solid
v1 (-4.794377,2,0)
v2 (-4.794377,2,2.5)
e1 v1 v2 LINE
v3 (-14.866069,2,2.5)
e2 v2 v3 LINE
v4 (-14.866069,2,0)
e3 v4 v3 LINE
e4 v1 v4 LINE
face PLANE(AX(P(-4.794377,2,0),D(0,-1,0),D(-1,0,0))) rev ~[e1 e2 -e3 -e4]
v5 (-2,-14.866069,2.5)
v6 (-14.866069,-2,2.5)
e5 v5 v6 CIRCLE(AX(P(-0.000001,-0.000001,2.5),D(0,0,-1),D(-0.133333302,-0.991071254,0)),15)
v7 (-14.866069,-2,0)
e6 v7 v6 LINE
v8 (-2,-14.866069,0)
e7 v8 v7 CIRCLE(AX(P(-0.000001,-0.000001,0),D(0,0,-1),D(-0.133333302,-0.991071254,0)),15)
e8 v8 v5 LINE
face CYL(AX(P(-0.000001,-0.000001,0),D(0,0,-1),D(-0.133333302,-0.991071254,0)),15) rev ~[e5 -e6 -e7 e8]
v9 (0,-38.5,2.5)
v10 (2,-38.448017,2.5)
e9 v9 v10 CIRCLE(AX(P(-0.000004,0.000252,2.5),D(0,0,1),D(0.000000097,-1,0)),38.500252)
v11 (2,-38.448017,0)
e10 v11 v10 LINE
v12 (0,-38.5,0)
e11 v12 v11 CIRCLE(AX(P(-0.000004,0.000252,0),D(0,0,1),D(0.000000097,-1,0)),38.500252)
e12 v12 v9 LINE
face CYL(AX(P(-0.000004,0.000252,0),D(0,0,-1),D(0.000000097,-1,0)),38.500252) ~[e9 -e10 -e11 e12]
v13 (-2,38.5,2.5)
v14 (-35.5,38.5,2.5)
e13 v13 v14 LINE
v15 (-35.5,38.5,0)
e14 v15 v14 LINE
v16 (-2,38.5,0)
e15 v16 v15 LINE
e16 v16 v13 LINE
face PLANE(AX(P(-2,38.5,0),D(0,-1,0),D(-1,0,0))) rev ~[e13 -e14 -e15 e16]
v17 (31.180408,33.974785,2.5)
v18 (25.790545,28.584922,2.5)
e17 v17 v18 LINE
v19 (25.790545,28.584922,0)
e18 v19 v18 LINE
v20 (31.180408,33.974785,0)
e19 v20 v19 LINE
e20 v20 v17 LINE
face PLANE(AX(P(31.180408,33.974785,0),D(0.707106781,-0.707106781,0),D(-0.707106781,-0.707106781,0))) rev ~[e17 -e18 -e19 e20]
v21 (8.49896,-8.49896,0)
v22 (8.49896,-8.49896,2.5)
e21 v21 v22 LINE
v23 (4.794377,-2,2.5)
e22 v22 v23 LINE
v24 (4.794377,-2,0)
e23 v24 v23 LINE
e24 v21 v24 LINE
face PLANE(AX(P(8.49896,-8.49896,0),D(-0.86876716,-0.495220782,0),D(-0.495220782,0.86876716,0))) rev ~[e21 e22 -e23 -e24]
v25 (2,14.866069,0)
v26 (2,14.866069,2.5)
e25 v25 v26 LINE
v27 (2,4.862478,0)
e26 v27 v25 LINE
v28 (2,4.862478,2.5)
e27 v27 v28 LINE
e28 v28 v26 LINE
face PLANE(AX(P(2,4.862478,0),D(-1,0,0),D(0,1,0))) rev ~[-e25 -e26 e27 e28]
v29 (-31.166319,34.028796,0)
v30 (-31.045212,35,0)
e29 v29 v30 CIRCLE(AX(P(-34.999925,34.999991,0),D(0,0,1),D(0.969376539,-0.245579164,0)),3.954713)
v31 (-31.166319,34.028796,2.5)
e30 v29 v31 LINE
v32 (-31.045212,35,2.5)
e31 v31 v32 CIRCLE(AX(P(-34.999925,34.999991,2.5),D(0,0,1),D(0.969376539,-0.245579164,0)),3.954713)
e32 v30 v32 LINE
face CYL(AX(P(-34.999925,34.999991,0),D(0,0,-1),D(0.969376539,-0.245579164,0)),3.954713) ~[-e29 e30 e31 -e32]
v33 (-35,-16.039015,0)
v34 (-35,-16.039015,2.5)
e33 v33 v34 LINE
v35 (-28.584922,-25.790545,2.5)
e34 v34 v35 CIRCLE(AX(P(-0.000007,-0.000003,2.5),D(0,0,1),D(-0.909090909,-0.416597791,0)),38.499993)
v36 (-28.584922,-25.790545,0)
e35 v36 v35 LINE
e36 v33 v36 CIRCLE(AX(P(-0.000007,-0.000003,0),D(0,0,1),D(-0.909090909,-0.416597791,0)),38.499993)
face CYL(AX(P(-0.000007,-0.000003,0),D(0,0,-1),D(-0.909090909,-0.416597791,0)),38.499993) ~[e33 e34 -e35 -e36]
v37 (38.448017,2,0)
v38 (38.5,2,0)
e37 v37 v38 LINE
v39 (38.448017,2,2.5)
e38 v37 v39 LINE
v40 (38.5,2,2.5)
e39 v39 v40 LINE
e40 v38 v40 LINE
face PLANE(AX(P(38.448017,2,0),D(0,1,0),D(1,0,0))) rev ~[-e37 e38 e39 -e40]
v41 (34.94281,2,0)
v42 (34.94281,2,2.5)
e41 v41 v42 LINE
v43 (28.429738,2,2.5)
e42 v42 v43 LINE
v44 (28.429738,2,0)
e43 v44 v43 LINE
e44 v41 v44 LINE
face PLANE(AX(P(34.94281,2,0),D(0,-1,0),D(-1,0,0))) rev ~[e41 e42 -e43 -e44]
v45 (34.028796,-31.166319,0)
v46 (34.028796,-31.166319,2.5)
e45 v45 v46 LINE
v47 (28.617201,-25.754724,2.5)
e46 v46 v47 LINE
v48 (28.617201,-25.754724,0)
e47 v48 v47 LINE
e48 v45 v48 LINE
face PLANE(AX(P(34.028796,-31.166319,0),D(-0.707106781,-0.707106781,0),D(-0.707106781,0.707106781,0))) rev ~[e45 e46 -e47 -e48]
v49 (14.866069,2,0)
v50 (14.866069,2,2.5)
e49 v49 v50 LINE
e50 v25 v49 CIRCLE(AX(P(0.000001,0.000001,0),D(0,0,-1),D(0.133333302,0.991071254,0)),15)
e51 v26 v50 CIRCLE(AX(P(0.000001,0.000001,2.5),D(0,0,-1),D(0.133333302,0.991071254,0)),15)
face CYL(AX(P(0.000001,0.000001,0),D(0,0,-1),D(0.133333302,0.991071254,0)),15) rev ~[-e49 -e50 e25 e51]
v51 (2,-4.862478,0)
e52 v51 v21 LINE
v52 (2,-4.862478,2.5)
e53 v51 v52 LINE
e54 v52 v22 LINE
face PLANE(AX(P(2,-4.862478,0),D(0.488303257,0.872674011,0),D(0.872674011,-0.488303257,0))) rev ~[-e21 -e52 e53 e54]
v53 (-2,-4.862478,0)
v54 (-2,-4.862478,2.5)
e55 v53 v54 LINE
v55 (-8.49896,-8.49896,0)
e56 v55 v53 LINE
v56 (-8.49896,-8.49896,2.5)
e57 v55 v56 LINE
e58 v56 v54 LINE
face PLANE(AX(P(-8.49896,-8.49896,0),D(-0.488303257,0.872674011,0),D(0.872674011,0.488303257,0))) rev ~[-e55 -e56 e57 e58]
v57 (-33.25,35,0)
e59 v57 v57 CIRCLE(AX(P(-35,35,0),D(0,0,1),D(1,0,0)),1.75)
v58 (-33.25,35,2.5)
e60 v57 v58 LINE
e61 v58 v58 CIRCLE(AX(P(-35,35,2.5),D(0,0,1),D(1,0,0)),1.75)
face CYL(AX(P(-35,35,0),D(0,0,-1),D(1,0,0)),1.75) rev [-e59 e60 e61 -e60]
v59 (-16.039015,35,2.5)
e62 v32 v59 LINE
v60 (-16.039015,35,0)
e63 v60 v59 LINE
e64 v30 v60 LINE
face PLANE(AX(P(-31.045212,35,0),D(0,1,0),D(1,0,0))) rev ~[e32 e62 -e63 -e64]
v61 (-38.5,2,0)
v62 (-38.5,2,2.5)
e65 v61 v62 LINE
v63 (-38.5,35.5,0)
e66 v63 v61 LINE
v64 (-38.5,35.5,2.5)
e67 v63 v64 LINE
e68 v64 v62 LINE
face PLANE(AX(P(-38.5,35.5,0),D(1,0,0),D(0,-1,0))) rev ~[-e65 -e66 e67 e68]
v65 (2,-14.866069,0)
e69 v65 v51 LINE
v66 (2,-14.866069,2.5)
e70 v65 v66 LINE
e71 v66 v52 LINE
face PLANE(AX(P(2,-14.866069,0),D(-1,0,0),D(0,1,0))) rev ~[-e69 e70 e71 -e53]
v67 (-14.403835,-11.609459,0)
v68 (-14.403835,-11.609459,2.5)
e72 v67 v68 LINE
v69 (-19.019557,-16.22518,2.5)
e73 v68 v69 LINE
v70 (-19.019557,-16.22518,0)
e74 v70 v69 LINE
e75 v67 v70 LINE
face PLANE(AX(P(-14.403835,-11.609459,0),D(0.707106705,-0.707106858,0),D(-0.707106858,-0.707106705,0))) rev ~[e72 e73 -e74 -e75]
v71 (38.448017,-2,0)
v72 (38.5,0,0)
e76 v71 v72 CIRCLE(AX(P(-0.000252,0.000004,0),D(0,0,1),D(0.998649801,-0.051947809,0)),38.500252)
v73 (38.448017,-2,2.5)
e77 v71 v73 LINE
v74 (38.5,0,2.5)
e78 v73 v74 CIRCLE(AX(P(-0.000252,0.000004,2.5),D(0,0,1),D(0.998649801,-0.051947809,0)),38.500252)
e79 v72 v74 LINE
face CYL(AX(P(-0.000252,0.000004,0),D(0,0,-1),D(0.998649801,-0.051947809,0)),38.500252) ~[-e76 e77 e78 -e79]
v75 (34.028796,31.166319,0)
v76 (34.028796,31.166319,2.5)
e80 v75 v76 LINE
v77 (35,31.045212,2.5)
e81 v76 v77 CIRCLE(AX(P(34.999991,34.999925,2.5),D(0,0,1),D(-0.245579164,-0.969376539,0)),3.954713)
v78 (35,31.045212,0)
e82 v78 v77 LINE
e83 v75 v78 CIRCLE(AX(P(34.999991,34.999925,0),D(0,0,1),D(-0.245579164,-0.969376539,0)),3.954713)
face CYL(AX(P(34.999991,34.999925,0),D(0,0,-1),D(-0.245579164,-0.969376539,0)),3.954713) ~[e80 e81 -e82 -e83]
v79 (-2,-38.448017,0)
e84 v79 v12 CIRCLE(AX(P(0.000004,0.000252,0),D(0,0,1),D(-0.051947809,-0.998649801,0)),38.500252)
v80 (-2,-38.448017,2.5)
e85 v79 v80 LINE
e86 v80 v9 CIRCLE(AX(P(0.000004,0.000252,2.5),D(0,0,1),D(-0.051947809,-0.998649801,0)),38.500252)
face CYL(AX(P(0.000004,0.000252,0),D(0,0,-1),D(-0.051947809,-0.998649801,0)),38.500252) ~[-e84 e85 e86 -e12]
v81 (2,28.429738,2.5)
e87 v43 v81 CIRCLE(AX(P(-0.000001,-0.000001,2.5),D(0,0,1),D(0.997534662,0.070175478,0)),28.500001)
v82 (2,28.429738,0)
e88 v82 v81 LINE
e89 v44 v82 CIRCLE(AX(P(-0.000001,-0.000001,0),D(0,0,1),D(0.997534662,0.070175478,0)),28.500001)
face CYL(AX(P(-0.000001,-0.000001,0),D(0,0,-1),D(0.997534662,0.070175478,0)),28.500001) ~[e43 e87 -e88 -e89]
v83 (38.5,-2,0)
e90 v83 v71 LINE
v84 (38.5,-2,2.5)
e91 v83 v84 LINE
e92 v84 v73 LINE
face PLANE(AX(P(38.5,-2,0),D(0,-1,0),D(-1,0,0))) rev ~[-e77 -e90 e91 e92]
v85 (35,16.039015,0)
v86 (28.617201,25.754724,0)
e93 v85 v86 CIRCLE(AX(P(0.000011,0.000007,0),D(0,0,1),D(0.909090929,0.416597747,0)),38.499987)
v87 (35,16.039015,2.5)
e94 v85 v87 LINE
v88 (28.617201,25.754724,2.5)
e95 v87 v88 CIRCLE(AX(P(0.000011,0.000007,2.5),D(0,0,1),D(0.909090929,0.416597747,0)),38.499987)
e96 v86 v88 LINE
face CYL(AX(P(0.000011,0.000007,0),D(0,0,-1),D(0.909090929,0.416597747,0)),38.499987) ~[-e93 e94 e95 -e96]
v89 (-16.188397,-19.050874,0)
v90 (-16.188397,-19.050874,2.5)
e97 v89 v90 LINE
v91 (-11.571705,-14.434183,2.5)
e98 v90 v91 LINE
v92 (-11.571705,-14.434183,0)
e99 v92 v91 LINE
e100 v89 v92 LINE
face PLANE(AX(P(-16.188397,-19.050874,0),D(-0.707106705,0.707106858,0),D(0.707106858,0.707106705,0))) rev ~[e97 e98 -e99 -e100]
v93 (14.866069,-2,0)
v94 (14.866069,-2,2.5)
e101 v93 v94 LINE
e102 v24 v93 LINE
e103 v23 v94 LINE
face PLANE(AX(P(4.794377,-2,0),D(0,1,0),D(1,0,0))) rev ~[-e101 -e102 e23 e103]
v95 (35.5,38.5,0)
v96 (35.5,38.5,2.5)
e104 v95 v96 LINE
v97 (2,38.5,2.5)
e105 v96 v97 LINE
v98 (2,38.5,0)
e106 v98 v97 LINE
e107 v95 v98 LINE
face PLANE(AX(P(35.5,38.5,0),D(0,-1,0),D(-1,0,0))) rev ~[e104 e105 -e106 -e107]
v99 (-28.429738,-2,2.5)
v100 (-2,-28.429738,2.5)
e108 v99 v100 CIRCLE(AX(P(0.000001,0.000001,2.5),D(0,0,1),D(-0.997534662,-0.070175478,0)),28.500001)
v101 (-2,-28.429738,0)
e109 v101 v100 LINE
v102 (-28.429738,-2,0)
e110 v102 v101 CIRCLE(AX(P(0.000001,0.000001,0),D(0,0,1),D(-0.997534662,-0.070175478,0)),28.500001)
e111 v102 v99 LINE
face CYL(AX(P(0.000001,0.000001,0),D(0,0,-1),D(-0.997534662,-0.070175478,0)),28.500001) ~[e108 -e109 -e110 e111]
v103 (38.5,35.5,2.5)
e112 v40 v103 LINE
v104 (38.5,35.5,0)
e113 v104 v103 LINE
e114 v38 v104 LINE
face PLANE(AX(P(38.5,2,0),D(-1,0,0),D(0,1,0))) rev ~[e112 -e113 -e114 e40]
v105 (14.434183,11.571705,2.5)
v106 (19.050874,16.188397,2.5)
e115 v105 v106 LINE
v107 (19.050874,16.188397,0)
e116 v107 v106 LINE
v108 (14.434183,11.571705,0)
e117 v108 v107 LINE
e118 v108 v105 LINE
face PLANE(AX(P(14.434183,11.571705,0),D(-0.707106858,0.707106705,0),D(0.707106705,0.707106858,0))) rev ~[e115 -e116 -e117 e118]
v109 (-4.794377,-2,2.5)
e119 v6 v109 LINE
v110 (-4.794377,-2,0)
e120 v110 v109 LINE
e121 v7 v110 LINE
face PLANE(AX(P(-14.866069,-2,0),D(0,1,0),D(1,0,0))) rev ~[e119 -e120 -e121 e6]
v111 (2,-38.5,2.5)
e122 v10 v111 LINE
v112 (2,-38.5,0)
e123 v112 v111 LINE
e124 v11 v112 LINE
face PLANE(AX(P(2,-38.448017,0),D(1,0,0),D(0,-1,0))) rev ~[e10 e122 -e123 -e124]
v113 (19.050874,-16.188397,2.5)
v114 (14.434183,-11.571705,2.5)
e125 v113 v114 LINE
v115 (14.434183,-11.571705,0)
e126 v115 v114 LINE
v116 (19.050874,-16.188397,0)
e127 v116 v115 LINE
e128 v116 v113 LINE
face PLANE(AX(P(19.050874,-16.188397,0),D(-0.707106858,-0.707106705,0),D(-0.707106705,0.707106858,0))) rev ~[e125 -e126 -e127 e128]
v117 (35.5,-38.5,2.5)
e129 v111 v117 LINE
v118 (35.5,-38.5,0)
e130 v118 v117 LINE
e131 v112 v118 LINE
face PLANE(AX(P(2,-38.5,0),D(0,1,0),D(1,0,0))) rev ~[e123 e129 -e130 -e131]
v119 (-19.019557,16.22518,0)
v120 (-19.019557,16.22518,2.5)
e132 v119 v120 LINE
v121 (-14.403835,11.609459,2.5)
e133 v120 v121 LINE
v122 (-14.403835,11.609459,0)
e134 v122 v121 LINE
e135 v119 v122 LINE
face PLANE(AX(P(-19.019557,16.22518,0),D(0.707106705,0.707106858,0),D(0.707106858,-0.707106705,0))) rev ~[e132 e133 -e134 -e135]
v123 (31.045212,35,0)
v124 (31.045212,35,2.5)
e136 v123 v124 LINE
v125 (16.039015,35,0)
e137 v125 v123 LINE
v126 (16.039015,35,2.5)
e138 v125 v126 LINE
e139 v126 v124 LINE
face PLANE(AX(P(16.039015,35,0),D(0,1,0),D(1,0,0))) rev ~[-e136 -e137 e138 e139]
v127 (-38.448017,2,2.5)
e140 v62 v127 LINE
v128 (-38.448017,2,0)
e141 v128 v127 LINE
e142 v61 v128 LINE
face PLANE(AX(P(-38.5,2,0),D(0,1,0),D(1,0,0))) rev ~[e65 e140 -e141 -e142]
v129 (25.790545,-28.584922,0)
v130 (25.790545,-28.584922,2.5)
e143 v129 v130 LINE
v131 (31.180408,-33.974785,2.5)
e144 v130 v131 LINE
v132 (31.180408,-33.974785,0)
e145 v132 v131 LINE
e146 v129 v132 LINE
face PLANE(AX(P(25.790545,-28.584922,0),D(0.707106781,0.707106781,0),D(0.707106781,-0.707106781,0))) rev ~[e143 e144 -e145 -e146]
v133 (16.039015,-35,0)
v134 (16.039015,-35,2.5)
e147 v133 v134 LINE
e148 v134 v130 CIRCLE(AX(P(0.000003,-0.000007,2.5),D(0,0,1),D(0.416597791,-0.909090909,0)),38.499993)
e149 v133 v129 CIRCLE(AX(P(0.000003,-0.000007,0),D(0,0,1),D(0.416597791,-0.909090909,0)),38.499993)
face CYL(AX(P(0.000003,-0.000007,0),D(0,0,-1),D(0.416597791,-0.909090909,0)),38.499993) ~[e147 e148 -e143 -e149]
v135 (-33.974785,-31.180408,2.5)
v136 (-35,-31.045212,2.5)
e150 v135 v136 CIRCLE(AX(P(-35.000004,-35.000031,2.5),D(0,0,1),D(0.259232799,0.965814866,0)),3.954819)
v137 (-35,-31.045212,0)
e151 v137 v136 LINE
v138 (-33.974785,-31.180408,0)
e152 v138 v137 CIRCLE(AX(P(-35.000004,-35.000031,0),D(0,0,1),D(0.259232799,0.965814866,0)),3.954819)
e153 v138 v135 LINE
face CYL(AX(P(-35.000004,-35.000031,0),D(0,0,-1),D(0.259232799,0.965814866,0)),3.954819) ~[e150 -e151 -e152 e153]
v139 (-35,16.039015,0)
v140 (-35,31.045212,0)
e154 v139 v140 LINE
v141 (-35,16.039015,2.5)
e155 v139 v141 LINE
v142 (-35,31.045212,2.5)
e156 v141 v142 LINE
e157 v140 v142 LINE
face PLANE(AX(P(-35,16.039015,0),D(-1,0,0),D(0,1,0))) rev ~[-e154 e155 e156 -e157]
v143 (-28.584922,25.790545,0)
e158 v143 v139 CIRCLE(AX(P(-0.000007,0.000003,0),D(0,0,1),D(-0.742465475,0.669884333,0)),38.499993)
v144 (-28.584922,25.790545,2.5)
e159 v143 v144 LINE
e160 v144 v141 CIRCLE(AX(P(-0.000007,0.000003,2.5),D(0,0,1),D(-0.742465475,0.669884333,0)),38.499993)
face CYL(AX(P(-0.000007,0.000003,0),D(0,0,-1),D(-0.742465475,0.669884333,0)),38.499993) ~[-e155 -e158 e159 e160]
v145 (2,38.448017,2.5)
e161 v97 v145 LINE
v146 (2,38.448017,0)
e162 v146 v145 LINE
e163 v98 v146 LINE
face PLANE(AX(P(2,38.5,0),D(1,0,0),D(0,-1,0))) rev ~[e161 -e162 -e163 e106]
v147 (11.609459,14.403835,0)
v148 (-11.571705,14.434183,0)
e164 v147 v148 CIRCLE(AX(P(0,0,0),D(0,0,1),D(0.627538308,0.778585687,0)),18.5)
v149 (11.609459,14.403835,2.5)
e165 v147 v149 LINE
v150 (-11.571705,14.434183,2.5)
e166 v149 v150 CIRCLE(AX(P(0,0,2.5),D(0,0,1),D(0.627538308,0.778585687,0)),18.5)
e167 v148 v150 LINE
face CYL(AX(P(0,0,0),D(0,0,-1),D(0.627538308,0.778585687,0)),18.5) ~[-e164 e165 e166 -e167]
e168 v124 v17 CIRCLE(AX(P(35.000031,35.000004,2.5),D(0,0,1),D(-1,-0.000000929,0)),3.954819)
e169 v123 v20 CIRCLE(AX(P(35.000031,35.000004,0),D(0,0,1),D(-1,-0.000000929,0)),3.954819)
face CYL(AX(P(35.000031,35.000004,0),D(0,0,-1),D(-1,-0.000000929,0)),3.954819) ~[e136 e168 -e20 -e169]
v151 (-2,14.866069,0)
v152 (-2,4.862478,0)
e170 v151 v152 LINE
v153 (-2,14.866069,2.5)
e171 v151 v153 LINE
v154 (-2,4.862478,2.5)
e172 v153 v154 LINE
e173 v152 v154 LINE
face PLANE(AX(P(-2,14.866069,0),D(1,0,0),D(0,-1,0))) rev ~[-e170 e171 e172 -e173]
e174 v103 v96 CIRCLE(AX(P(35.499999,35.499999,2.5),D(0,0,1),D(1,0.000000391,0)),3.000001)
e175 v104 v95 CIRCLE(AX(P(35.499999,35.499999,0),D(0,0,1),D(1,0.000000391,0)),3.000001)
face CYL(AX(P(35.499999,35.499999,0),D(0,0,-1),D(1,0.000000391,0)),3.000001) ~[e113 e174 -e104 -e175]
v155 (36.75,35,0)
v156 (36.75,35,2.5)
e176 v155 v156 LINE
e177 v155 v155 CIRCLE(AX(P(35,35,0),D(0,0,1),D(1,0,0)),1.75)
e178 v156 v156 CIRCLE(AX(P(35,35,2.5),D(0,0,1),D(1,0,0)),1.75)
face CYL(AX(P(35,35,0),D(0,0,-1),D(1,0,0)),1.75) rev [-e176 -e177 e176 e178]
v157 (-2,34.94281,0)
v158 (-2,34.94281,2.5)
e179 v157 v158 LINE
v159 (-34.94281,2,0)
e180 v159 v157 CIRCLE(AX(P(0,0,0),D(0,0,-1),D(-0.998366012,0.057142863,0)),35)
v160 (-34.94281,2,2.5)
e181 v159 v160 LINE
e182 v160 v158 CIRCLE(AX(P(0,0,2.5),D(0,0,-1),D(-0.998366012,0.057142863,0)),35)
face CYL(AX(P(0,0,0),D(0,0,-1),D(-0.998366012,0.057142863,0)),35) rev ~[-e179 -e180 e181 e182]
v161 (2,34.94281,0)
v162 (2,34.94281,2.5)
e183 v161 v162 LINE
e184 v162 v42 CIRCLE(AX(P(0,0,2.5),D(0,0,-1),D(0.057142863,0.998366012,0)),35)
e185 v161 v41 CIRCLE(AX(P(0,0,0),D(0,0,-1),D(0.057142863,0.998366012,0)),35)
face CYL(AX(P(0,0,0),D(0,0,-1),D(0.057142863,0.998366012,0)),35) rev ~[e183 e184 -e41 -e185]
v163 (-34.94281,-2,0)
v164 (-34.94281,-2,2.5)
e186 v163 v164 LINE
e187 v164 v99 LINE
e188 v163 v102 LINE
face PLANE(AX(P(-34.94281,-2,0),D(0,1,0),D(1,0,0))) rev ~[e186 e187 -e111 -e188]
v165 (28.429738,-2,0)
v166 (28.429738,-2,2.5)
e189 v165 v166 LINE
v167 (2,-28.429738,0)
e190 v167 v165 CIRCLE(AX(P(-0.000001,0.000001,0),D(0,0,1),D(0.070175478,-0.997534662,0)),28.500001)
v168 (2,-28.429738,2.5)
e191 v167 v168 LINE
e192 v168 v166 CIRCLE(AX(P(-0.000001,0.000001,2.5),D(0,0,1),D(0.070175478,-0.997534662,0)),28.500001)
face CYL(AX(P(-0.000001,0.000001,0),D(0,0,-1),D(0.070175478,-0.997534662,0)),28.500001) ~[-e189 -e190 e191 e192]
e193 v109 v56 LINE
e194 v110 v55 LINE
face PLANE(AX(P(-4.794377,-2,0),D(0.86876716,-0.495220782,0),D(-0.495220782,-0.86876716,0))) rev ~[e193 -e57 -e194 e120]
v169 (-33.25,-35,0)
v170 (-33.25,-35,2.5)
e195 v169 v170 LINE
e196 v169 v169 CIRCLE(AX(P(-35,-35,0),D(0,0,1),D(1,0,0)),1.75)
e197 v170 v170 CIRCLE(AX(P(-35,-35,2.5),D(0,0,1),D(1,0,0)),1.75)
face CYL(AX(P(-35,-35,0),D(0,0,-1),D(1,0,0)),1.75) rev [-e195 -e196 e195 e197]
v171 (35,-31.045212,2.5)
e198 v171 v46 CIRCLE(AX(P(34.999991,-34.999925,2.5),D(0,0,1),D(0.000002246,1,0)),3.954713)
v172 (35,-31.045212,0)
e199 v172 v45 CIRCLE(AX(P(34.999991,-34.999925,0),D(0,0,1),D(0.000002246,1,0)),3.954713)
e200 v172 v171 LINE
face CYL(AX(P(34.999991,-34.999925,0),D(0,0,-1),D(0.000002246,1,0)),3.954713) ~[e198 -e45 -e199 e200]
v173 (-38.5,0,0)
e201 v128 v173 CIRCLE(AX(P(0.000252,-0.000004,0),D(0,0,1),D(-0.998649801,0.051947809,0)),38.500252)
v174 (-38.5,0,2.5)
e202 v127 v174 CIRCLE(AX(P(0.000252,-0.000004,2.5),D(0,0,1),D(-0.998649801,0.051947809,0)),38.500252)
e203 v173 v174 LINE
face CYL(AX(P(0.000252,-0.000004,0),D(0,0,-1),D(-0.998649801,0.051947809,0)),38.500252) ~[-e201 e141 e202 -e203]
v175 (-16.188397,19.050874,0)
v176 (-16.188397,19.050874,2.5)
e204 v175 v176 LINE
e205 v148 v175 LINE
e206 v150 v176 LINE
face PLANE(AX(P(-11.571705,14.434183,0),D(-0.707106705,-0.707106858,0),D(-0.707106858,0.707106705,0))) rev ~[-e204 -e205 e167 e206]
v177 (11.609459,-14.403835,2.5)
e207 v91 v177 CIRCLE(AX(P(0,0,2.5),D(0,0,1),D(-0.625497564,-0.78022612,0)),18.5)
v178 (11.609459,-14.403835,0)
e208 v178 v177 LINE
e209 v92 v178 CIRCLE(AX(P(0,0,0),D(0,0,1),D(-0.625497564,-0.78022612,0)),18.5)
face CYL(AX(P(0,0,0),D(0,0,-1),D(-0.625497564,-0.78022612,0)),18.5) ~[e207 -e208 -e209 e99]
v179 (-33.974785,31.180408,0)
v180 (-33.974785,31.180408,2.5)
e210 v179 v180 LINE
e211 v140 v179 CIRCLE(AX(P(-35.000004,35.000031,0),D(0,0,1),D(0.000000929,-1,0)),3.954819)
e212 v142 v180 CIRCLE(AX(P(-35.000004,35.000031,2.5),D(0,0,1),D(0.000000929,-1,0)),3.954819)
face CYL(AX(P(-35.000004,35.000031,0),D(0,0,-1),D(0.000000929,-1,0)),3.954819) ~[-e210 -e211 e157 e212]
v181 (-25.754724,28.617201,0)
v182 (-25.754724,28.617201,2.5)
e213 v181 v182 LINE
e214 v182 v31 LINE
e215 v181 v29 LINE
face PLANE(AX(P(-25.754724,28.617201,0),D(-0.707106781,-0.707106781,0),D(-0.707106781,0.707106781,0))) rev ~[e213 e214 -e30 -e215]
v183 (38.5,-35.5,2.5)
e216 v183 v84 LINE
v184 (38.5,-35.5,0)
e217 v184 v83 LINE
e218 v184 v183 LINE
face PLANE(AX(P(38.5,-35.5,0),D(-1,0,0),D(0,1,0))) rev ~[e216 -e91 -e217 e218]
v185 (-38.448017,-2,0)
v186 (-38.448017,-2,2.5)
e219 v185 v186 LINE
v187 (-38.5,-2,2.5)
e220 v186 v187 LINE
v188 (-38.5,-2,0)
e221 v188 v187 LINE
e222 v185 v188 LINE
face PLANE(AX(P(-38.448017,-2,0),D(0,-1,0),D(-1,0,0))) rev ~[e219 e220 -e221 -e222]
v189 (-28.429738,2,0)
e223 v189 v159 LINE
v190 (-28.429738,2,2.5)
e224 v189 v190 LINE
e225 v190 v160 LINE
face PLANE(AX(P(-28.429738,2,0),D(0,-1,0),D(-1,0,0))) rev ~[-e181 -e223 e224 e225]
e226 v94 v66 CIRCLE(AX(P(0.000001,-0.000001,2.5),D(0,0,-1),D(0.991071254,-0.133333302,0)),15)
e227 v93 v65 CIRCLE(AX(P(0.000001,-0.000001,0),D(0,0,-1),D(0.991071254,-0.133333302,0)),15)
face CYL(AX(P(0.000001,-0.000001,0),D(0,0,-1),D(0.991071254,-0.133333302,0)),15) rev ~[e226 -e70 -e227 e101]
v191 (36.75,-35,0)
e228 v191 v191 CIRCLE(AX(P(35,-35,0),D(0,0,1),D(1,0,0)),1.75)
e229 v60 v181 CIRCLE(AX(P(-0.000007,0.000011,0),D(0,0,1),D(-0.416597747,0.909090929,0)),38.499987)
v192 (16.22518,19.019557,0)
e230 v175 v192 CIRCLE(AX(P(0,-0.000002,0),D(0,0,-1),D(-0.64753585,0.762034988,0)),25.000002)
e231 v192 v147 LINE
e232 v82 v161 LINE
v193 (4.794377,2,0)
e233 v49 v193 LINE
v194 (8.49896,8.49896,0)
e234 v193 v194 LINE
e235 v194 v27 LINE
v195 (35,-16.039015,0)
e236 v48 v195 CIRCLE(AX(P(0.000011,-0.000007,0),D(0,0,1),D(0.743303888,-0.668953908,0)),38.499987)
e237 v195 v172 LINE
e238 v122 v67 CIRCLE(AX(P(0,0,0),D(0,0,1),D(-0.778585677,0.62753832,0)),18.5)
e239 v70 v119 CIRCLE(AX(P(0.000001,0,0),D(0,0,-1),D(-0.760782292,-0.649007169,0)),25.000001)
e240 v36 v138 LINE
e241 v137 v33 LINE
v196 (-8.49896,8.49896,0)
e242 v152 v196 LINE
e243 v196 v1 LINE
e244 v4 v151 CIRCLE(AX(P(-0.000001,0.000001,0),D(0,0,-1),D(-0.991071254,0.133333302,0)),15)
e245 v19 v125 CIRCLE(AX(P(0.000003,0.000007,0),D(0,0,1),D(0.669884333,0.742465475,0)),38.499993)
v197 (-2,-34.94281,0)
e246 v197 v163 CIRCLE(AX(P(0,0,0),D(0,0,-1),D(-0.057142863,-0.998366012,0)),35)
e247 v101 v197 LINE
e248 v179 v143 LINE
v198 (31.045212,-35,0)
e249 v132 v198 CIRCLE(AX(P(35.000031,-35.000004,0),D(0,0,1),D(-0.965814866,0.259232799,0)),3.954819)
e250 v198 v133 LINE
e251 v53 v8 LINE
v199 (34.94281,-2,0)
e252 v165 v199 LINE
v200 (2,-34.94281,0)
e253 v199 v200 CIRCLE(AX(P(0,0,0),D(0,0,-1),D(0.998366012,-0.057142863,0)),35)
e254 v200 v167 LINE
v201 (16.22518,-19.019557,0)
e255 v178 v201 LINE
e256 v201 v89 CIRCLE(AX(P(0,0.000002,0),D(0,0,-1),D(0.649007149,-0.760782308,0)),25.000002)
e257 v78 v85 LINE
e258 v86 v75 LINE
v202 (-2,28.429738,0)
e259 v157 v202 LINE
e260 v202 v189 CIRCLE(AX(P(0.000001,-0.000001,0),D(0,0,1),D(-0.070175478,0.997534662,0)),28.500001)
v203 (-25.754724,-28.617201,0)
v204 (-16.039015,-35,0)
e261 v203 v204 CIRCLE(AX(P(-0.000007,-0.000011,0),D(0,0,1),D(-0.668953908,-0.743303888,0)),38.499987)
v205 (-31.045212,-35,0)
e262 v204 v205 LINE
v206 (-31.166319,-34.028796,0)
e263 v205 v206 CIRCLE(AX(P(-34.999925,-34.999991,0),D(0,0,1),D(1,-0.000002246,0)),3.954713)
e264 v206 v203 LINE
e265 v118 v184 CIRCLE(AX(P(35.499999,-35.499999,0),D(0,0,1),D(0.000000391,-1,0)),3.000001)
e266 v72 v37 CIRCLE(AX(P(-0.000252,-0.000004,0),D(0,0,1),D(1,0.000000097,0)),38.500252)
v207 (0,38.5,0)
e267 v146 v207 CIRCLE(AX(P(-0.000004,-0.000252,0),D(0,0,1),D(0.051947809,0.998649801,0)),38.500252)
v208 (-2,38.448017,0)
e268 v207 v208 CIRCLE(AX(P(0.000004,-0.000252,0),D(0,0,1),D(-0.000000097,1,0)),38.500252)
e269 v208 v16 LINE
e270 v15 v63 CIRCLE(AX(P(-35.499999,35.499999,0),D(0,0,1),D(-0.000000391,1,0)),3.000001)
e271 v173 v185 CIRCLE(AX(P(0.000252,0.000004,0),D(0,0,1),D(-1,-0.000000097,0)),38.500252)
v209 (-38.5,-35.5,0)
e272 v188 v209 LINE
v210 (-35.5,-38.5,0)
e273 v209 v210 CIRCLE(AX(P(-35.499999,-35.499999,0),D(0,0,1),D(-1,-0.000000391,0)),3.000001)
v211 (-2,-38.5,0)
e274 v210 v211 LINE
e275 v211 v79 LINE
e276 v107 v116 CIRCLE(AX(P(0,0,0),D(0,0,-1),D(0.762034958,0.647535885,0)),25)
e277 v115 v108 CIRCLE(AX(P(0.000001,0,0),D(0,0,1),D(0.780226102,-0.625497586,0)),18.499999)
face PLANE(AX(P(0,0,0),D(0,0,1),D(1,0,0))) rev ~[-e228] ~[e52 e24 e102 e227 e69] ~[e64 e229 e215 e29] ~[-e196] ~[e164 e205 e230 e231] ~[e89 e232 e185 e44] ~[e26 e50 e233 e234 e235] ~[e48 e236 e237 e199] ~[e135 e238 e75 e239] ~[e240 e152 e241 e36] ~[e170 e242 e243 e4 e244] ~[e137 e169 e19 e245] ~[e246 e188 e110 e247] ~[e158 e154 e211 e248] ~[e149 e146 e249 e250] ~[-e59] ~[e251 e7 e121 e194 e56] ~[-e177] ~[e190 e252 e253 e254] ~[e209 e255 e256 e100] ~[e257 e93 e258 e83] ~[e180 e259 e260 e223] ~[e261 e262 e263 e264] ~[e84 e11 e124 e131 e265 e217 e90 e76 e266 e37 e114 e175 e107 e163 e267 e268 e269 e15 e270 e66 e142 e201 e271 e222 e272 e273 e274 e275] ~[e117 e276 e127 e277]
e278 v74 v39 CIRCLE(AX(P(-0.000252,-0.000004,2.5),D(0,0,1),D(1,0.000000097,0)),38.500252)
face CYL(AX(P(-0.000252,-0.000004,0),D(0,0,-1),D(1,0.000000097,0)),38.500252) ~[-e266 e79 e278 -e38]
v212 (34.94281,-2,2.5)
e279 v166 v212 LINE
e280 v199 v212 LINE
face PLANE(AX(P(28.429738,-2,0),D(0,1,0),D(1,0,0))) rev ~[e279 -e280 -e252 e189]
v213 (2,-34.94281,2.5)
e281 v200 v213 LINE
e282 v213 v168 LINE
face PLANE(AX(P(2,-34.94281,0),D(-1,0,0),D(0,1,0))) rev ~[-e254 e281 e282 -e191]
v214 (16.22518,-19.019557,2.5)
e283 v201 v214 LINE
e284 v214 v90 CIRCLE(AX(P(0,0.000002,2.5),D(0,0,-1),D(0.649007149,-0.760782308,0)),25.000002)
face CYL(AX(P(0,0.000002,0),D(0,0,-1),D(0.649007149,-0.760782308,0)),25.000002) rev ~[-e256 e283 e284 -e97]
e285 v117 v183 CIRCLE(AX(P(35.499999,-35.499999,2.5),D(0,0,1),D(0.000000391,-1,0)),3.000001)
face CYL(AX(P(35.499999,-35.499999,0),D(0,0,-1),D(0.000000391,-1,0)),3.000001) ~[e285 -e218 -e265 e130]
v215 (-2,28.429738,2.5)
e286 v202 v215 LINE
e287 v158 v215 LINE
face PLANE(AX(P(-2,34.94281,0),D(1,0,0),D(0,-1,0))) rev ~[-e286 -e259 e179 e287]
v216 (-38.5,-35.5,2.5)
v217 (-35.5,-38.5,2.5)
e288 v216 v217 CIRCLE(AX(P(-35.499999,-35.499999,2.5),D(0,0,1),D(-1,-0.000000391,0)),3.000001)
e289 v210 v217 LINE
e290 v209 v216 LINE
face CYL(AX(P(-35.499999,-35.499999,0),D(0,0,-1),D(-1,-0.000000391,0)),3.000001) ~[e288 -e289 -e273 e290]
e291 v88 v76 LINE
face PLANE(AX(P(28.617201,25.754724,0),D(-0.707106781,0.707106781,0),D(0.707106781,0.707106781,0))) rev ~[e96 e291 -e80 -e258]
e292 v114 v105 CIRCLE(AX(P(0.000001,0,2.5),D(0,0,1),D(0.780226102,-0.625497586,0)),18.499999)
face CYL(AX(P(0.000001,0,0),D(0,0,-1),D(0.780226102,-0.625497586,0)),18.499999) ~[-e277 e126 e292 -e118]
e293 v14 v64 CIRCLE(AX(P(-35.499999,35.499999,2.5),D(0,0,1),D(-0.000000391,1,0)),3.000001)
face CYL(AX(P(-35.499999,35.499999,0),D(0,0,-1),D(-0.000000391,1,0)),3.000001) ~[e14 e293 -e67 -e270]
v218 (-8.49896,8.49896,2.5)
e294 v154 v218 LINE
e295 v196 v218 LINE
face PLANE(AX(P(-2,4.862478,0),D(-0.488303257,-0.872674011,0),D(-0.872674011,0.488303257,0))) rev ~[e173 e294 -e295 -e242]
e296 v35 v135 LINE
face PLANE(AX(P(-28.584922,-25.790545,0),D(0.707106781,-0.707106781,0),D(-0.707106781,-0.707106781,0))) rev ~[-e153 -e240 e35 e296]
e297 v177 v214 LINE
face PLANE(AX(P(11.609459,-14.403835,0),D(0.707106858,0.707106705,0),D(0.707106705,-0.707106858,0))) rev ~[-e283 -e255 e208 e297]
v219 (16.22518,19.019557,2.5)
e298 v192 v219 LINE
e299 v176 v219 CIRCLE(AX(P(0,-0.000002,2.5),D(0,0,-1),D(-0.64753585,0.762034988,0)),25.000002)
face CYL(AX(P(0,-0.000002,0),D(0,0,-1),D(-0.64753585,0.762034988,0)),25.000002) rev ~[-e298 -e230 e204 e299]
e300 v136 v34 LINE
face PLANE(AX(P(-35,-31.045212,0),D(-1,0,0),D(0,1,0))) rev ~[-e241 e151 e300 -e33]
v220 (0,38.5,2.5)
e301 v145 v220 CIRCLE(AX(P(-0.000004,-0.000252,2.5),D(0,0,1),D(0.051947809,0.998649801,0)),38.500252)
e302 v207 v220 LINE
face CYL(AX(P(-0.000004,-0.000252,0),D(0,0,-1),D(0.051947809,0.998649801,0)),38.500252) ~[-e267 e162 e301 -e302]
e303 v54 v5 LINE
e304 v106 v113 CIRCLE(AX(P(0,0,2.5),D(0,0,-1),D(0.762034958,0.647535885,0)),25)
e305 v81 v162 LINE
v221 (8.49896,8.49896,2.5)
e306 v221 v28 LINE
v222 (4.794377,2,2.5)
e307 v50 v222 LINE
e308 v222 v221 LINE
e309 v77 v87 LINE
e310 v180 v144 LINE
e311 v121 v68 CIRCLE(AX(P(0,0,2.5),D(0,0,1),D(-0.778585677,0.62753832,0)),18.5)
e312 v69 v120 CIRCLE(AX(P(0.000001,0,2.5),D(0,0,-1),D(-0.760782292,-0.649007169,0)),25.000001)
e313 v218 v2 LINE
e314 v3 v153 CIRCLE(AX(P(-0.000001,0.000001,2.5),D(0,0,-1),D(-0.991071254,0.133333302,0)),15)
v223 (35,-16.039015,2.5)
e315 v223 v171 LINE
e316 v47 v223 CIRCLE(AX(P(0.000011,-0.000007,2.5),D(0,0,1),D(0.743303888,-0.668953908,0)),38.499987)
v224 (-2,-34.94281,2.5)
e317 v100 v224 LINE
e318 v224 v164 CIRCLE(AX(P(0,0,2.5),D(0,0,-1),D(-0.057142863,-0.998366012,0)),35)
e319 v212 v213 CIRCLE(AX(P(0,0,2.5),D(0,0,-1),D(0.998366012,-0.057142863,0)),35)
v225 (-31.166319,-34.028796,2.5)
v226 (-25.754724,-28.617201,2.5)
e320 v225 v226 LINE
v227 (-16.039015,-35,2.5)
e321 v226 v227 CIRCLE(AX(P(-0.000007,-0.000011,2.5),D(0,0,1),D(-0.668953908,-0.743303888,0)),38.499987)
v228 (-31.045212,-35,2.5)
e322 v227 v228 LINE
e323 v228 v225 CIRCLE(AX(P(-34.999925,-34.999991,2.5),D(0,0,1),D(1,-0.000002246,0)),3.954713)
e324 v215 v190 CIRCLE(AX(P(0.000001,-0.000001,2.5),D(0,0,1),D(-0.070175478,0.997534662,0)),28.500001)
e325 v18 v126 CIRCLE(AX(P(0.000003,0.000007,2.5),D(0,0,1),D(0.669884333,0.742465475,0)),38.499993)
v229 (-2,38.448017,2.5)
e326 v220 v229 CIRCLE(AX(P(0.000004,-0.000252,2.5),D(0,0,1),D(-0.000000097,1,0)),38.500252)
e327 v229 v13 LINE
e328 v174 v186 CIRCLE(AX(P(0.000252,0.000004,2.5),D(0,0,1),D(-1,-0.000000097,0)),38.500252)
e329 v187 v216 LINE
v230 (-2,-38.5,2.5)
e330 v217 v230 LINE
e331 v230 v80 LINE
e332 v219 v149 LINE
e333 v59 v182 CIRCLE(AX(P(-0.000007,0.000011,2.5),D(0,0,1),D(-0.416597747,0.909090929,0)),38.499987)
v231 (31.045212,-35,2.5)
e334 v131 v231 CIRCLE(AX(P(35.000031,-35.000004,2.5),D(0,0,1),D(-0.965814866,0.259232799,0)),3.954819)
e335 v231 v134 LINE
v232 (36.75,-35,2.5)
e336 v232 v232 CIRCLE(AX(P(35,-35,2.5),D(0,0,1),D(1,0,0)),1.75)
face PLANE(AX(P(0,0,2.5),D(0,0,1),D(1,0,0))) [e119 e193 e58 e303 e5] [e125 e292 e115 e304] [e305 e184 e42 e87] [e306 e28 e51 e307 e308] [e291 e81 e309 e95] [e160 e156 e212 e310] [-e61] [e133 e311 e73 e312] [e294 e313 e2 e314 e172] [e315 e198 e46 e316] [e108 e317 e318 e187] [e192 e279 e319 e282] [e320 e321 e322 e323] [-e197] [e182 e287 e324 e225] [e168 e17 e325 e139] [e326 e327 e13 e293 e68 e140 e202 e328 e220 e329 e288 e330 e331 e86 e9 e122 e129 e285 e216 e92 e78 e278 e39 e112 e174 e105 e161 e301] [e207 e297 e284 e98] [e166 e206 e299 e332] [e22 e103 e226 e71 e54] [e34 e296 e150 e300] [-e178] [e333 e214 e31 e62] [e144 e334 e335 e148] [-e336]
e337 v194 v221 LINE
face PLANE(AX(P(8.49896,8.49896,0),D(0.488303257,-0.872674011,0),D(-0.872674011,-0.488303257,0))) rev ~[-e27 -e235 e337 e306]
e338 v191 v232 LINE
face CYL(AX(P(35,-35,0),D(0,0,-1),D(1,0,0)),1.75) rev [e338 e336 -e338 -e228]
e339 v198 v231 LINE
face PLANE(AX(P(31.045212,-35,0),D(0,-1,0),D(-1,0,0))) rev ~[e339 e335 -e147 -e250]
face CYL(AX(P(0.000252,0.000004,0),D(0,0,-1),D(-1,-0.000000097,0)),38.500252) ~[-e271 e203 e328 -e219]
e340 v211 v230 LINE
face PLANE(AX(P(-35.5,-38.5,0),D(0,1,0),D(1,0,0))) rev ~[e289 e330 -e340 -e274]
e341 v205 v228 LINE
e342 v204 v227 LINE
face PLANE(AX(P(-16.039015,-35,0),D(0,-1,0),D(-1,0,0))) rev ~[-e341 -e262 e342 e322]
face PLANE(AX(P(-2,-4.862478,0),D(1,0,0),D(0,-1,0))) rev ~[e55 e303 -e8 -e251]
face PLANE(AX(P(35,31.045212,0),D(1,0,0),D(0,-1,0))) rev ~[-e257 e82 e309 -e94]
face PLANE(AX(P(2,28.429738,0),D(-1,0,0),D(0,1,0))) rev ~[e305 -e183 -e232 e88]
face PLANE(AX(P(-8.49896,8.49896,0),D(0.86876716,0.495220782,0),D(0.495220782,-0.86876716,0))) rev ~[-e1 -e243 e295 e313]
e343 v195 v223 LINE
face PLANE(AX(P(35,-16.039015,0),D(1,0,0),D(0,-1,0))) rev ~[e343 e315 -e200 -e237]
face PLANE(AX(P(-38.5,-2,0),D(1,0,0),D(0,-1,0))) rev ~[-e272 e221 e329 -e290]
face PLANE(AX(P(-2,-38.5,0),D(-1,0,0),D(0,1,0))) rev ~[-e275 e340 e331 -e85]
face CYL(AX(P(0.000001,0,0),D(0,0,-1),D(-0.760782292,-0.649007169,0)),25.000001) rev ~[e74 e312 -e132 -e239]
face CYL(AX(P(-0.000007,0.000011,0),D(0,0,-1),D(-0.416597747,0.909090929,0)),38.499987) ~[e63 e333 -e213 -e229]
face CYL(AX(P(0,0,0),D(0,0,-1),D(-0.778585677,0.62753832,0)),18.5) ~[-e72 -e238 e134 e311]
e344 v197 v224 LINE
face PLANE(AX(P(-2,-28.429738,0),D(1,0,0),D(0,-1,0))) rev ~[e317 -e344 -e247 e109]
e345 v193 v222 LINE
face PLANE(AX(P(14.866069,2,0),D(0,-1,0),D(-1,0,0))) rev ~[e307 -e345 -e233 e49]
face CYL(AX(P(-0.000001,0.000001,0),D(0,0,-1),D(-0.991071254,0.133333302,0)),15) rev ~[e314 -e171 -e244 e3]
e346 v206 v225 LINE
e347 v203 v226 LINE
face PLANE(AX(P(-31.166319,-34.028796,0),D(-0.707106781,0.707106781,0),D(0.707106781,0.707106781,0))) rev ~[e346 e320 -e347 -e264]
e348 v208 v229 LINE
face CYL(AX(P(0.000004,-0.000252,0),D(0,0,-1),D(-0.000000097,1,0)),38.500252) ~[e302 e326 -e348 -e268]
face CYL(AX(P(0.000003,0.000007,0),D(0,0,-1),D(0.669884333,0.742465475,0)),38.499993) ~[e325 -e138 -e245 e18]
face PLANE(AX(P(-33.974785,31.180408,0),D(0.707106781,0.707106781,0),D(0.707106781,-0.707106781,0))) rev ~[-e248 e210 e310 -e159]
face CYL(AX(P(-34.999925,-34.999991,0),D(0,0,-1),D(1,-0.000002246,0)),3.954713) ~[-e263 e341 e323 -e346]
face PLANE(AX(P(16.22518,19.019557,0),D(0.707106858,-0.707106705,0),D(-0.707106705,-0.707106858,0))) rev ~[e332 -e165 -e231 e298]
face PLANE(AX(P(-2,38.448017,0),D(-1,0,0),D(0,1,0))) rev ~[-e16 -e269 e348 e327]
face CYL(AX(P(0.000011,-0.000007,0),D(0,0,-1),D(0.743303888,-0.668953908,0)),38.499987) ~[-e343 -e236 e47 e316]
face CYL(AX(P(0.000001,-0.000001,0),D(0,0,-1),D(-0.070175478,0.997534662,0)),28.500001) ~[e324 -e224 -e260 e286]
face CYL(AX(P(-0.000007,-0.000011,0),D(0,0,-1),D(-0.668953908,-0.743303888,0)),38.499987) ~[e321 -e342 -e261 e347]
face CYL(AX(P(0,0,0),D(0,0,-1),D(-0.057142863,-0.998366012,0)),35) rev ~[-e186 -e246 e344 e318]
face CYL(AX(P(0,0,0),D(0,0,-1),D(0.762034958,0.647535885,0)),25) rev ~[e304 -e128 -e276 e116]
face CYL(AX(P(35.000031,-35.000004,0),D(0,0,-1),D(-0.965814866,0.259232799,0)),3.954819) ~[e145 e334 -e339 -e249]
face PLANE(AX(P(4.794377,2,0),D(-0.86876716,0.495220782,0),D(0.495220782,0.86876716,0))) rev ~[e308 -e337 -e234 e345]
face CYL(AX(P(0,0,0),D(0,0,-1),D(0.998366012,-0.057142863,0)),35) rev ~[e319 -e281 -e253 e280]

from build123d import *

# Parameters (mm, degrees)
F0_R     = 1.75
F1_DEPTH = 2.5


with BuildPart() as f1:
    # F0 (on Top) → F1 (new body)
    with BuildSketch(Plane.XY):
        with BuildLine():
            ThreePointArc((-38.5, -35.5), (-37.62132, -37.62132), (-35.5, -38.5))
            Line((-35.5, -38.5), (-2, -38.5))
            Line((-2, -38.5), (-2, -38.448017))
            ThreePointArc((-2, -38.448017), (-1.000338, -38.487002), (0, -38.5))
            ThreePointArc((0, -38.5), (1.000338, -38.487002), (2, -38.448017))
            Line((2, -38.448017), (2, -38.5))
            Line((2, -38.5), (35.5, -38.5))
            ThreePointArc((35.5, -38.5), (37.62132, -37.62132), (38.5, -35.5))
            Line((38.5, -35.5), (38.5, -2))
            Line((38.5, -2), (38.448017, -2))
            ThreePointArc((38.448017, -2), (38.487002, -1.000338), (38.5, 0))
            ThreePointArc((38.5, 0), (38.487002, 1.000338), (38.448017, 2))
            Line((38.448017, 2), (38.5, 2))
            Line((38.5, 2), (38.5, 35.5))
            ThreePointArc((38.5, 35.5), (37.62132, 37.62132), (35.5, 38.5))
            Line((35.5, 38.5), (2, 38.5))
            Line((2, 38.5), (2, 38.448017))
            ThreePointArc((2, 38.448017), (1.000338, 38.487002), (0, 38.5))
            ThreePointArc((0, 38.5), (-1.000338, 38.487002), (-2, 38.448017))
            Line((-2, 38.448017), (-2, 38.5))
            Line((-2, 38.5), (-35.5, 38.5))
            ThreePointArc((-35.5, 38.5), (-37.62132, 37.62132), (-38.5, 35.5))
            Line((-38.5, 35.5), (-38.5, 2))
            Line((-38.5, 2), (-38.448017, 2))
            ThreePointArc((-38.448017, 2), (-38.487002, 1.000338), (-38.5, 0))
            ThreePointArc((-38.5, 0), (-38.487002, -1.000338), (-38.448017, -2))
            Line((-38.448017, -2), (-38.5, -2))
            Line((-38.5, -2), (-38.5, -35.5))
        make_face()
        with Locations((-35, -35)):
            Circle(F0_R, mode=Mode.SUBTRACT)
        with BuildLine():
            Line((-16.039015, -35), (-31.045212, -35))
            ThreePointArc((-31.045212, -35), (-31.075605, -34.510637), (-31.166319, -34.028796))
            Line((-31.166319, -34.028796), (-25.754724, -28.617201))
            ThreePointArc((-25.754724, -28.617201), (-21.139162, -32.177412), (-16.039015, -35))
        make_face(mode=Mode.SUBTRACT)
        with BuildLine():
            ThreePointArc((-33.974785, -31.180408), (-34.482954, -31.079157), (-35, -31.045212))
            Line((-35, -31.045212), (-35, -16.039015))
            ThreePointArc((-35, -16.039015), (-32.164167, -21.159309), (-28.584922, -25.790545))
            Line((-28.584922, -25.790545), (-33.974785, -31.180408))
        make_face(mode=Mode.SUBTRACT)
        with BuildLine():
            Line((-2, -28.429738), (-2, -34.94281))
            ThreePointArc((-2, -34.94281), (-24.748737, -24.748737), (-34.94281, -2))
            Line((-34.94281, -2), (-28.429738, -2))
            ThreePointArc((-28.429738, -2), (-20.152543, -20.152543), (-2, -28.429738))
        make_face(mode=Mode.SUBTRACT)
        with BuildLine():
            Line((-2, -4.862478), (-2, -14.866069))
            ThreePointArc((-2, -14.866069), (-10.606602, -10.606602), (-14.866069, -2))
            Line((-14.866069, -2), (-4.794377, -2))
            Line((-4.794377, -2), (-8.49896, -8.49896))
            Line((-8.49896, -8.49896), (-2, -4.862478))
        make_face(mode=Mode.SUBTRACT)
        with BuildLine():
            ThreePointArc((-11.571705, -14.434183), (0.024219, -18.499984), (11.609459, -14.403835))
            Line((11.609459, -14.403835), (16.22518, -19.019557))
            ThreePointArc((16.22518, -19.019557), (0.024155, -24.999988), (-16.188397, -19.050874))
            Line((-16.188397, -19.050874), (-11.571705, -14.434183))
        make_face(mode=Mode.SUBTRACT)
        with BuildLine():
            Line((25.790545, -28.584922), (31.180408, -33.974785))
            ThreePointArc((31.180408, -33.974785), (31.079157, -34.482954), (31.045212, -35))
            Line((31.045212, -35), (16.039015, -35))
            ThreePointArc((16.039015, -35), (21.159309, -32.164167), (25.790545, -28.584922))
        make_face(mode=Mode.SUBTRACT)
        with Locations((35, -35)):
            Circle(F0_R, mode=Mode.SUBTRACT)
        with BuildLine():
            Line((35, -16.039015), (35, -31.045212))
            ThreePointArc((35, -31.045212), (34.510637, -31.075605), (34.028796, -31.166319))
            Line((34.028796, -31.166319), (28.617201, -25.754724))
            ThreePointArc((28.617201, -25.754724), (32.177412, -21.139162), (35, -16.039015))
        make_face(mode=Mode.SUBTRACT)
        with BuildLine():
            ThreePointArc((2, -28.429738), (20.152543, -20.152543), (28.429738, -2))
            Line((28.429738, -2), (34.94281, -2))
            ThreePointArc((34.94281, -2), (24.748737, -24.748737), (2, -34.94281))
            Line((2, -34.94281), (2, -28.429738))
        make_face(mode=Mode.SUBTRACT)
        with BuildLine():
            ThreePointArc((14.866069, -2), (10.606602, -10.606602), (2, -14.866069))
            Line((2, -14.866069), (2, -4.862478))
            Line((2, -4.862478), (8.49896, -8.49896))
            Line((8.49896, -8.49896), (4.794377, -2))
            Line((4.794377, -2), (14.866069, -2))
        make_face(mode=Mode.SUBTRACT)
        with BuildLine():
            ThreePointArc((-19.019557, -16.22518), (-25, 0), (-19.019557, 16.22518))
            Line((-19.019557, 16.22518), (-14.403835, 11.609459))
            ThreePointArc((-14.403835, 11.609459), (-18.5, 0), (-14.403835, -11.609459))
            Line((-14.403835, -11.609459), (-19.019557, -16.22518))
        make_face(mode=Mode.SUBTRACT)
        with BuildLine():
            ThreePointArc((-14.866069, 2), (-10.606602, 10.606602), (-2, 14.866069))
            Line((-2, 14.866069), (-2, 4.862478))
            Line((-2, 4.862478), (-8.49896, 8.49896))
            Line((-8.49896, 8.49896), (-4.794377, 2))
            Line((-4.794377, 2), (-14.866069, 2))
        make_face(mode=Mode.SUBTRACT)
        with BuildLine():
            ThreePointArc((-34.94281, 2), (-24.748737, 24.748737), (-2, 34.94281))
            Line((-2, 34.94281), (-2, 28.429738))
            ThreePointArc((-2, 28.429738), (-20.152543, 20.152543), (-28.429738, 2))
            Line((-28.429738, 2), (-34.94281, 2))
        make_face(mode=Mode.SUBTRACT)
        with BuildLine():
            Line((-33.974785, 31.180408), (-28.584922, 25.790545))
            ThreePointArc((-28.584922, 25.790545), (-32.164167, 21.159309), (-35, 16.039015))
            Line((-35, 16.039015), (-35, 31.045212))
            ThreePointArc((-35, 31.045212), (-34.482954, 31.079157), (-33.974785, 31.180408))
        make_face(mode=Mode.SUBTRACT)
        with Locations((-35, 35)):
            Circle(F0_R, mode=Mode.SUBTRACT)
        with BuildLine():
            ThreePointArc((-31.166319, 34.028796), (-31.075605, 34.510637), (-31.045212, 35))
            Line((-31.045212, 35), (-16.039015, 35))
            ThreePointArc((-16.039015, 35), (-21.139162, 32.177412), (-25.754724, 28.617201))
            Line((-25.754724, 28.617201), (-31.166319, 34.028796))
        make_face(mode=Mode.SUBTRACT)
        with BuildLine():
            ThreePointArc((2, 14.866069), (10.606602, 10.606602), (14.866069, 2))
            Line((14.866069, 2), (4.794377, 2))
            Line((4.794377, 2), (8.49896, 8.49896))
            Line((8.49896, 8.49896), (2, 4.862478))
            Line((2, 4.862478), (2, 14.866069))
        make_face(mode=Mode.SUBTRACT)
        with BuildLine():
            ThreePointArc((28.429738, 2), (20.152543, 20.152543), (2, 28.429738))
            Line((2, 28.429738), (2, 34.94281))
            ThreePointArc((2, 34.94281), (24.748737, 24.748737), (34.94281, 2))
            Line((34.94281, 2), (28.429738, 2))
        make_face(mode=Mode.SUBTRACT)
        with BuildLine():
            ThreePointArc((14.434183, -11.571705), (18.5, 0), (14.434183, 11.571705))
            Line((14.434183, 11.571705), (19.050874, 16.188397))
            ThreePointArc((19.050874, 16.188397), (25, 0), (19.050874, -16.188397))
            Line((19.050874, -16.188397), (14.434183, -11.571705))
        make_face(mode=Mode.SUBTRACT)
        with BuildLine():
            ThreePointArc((11.609459, 14.403835), (0.024219, 18.499984), (-11.571705, 14.434183))
            Line((-11.571705, 14.434183), (-16.188397, 19.050874))
            ThreePointArc((-16.188397, 19.050874), (0.024155, 24.999988), (16.22518, 19.019557))
            Line((16.22518, 19.019557), (11.609459, 14.403835))
        make_face(mode=Mode.SUBTRACT)
        with BuildLine():
            ThreePointArc((34.028796, 31.166319), (34.510637, 31.075605), (35, 31.045212))
            Line((35, 31.045212), (35, 16.039015))
            ThreePointArc((35, 16.039015), (32.177412, 21.139162), (28.617201, 25.754724))
            Line((28.617201, 25.754724), (34.028796, 31.166319))
        make_face(mode=Mode.SUBTRACT)
        with BuildLine():
            ThreePointArc((25.790545, 28.584922), (21.159309, 32.164167), (16.039015, 35))
            Line((16.039015, 35), (31.045212, 35))
            ThreePointArc((31.045212, 35), (31.079157, 34.482954), (31.180408, 33.974785))
            Line((31.180408, 33.974785), (25.790545, 28.584922))
        make_face(mode=Mode.SUBTRACT)
        with Locations((35, 35)):
            Circle(F0_R, mode=Mode.SUBTRACT)
    extrude(amount=F1_DEPTH)


solid = f1.part
